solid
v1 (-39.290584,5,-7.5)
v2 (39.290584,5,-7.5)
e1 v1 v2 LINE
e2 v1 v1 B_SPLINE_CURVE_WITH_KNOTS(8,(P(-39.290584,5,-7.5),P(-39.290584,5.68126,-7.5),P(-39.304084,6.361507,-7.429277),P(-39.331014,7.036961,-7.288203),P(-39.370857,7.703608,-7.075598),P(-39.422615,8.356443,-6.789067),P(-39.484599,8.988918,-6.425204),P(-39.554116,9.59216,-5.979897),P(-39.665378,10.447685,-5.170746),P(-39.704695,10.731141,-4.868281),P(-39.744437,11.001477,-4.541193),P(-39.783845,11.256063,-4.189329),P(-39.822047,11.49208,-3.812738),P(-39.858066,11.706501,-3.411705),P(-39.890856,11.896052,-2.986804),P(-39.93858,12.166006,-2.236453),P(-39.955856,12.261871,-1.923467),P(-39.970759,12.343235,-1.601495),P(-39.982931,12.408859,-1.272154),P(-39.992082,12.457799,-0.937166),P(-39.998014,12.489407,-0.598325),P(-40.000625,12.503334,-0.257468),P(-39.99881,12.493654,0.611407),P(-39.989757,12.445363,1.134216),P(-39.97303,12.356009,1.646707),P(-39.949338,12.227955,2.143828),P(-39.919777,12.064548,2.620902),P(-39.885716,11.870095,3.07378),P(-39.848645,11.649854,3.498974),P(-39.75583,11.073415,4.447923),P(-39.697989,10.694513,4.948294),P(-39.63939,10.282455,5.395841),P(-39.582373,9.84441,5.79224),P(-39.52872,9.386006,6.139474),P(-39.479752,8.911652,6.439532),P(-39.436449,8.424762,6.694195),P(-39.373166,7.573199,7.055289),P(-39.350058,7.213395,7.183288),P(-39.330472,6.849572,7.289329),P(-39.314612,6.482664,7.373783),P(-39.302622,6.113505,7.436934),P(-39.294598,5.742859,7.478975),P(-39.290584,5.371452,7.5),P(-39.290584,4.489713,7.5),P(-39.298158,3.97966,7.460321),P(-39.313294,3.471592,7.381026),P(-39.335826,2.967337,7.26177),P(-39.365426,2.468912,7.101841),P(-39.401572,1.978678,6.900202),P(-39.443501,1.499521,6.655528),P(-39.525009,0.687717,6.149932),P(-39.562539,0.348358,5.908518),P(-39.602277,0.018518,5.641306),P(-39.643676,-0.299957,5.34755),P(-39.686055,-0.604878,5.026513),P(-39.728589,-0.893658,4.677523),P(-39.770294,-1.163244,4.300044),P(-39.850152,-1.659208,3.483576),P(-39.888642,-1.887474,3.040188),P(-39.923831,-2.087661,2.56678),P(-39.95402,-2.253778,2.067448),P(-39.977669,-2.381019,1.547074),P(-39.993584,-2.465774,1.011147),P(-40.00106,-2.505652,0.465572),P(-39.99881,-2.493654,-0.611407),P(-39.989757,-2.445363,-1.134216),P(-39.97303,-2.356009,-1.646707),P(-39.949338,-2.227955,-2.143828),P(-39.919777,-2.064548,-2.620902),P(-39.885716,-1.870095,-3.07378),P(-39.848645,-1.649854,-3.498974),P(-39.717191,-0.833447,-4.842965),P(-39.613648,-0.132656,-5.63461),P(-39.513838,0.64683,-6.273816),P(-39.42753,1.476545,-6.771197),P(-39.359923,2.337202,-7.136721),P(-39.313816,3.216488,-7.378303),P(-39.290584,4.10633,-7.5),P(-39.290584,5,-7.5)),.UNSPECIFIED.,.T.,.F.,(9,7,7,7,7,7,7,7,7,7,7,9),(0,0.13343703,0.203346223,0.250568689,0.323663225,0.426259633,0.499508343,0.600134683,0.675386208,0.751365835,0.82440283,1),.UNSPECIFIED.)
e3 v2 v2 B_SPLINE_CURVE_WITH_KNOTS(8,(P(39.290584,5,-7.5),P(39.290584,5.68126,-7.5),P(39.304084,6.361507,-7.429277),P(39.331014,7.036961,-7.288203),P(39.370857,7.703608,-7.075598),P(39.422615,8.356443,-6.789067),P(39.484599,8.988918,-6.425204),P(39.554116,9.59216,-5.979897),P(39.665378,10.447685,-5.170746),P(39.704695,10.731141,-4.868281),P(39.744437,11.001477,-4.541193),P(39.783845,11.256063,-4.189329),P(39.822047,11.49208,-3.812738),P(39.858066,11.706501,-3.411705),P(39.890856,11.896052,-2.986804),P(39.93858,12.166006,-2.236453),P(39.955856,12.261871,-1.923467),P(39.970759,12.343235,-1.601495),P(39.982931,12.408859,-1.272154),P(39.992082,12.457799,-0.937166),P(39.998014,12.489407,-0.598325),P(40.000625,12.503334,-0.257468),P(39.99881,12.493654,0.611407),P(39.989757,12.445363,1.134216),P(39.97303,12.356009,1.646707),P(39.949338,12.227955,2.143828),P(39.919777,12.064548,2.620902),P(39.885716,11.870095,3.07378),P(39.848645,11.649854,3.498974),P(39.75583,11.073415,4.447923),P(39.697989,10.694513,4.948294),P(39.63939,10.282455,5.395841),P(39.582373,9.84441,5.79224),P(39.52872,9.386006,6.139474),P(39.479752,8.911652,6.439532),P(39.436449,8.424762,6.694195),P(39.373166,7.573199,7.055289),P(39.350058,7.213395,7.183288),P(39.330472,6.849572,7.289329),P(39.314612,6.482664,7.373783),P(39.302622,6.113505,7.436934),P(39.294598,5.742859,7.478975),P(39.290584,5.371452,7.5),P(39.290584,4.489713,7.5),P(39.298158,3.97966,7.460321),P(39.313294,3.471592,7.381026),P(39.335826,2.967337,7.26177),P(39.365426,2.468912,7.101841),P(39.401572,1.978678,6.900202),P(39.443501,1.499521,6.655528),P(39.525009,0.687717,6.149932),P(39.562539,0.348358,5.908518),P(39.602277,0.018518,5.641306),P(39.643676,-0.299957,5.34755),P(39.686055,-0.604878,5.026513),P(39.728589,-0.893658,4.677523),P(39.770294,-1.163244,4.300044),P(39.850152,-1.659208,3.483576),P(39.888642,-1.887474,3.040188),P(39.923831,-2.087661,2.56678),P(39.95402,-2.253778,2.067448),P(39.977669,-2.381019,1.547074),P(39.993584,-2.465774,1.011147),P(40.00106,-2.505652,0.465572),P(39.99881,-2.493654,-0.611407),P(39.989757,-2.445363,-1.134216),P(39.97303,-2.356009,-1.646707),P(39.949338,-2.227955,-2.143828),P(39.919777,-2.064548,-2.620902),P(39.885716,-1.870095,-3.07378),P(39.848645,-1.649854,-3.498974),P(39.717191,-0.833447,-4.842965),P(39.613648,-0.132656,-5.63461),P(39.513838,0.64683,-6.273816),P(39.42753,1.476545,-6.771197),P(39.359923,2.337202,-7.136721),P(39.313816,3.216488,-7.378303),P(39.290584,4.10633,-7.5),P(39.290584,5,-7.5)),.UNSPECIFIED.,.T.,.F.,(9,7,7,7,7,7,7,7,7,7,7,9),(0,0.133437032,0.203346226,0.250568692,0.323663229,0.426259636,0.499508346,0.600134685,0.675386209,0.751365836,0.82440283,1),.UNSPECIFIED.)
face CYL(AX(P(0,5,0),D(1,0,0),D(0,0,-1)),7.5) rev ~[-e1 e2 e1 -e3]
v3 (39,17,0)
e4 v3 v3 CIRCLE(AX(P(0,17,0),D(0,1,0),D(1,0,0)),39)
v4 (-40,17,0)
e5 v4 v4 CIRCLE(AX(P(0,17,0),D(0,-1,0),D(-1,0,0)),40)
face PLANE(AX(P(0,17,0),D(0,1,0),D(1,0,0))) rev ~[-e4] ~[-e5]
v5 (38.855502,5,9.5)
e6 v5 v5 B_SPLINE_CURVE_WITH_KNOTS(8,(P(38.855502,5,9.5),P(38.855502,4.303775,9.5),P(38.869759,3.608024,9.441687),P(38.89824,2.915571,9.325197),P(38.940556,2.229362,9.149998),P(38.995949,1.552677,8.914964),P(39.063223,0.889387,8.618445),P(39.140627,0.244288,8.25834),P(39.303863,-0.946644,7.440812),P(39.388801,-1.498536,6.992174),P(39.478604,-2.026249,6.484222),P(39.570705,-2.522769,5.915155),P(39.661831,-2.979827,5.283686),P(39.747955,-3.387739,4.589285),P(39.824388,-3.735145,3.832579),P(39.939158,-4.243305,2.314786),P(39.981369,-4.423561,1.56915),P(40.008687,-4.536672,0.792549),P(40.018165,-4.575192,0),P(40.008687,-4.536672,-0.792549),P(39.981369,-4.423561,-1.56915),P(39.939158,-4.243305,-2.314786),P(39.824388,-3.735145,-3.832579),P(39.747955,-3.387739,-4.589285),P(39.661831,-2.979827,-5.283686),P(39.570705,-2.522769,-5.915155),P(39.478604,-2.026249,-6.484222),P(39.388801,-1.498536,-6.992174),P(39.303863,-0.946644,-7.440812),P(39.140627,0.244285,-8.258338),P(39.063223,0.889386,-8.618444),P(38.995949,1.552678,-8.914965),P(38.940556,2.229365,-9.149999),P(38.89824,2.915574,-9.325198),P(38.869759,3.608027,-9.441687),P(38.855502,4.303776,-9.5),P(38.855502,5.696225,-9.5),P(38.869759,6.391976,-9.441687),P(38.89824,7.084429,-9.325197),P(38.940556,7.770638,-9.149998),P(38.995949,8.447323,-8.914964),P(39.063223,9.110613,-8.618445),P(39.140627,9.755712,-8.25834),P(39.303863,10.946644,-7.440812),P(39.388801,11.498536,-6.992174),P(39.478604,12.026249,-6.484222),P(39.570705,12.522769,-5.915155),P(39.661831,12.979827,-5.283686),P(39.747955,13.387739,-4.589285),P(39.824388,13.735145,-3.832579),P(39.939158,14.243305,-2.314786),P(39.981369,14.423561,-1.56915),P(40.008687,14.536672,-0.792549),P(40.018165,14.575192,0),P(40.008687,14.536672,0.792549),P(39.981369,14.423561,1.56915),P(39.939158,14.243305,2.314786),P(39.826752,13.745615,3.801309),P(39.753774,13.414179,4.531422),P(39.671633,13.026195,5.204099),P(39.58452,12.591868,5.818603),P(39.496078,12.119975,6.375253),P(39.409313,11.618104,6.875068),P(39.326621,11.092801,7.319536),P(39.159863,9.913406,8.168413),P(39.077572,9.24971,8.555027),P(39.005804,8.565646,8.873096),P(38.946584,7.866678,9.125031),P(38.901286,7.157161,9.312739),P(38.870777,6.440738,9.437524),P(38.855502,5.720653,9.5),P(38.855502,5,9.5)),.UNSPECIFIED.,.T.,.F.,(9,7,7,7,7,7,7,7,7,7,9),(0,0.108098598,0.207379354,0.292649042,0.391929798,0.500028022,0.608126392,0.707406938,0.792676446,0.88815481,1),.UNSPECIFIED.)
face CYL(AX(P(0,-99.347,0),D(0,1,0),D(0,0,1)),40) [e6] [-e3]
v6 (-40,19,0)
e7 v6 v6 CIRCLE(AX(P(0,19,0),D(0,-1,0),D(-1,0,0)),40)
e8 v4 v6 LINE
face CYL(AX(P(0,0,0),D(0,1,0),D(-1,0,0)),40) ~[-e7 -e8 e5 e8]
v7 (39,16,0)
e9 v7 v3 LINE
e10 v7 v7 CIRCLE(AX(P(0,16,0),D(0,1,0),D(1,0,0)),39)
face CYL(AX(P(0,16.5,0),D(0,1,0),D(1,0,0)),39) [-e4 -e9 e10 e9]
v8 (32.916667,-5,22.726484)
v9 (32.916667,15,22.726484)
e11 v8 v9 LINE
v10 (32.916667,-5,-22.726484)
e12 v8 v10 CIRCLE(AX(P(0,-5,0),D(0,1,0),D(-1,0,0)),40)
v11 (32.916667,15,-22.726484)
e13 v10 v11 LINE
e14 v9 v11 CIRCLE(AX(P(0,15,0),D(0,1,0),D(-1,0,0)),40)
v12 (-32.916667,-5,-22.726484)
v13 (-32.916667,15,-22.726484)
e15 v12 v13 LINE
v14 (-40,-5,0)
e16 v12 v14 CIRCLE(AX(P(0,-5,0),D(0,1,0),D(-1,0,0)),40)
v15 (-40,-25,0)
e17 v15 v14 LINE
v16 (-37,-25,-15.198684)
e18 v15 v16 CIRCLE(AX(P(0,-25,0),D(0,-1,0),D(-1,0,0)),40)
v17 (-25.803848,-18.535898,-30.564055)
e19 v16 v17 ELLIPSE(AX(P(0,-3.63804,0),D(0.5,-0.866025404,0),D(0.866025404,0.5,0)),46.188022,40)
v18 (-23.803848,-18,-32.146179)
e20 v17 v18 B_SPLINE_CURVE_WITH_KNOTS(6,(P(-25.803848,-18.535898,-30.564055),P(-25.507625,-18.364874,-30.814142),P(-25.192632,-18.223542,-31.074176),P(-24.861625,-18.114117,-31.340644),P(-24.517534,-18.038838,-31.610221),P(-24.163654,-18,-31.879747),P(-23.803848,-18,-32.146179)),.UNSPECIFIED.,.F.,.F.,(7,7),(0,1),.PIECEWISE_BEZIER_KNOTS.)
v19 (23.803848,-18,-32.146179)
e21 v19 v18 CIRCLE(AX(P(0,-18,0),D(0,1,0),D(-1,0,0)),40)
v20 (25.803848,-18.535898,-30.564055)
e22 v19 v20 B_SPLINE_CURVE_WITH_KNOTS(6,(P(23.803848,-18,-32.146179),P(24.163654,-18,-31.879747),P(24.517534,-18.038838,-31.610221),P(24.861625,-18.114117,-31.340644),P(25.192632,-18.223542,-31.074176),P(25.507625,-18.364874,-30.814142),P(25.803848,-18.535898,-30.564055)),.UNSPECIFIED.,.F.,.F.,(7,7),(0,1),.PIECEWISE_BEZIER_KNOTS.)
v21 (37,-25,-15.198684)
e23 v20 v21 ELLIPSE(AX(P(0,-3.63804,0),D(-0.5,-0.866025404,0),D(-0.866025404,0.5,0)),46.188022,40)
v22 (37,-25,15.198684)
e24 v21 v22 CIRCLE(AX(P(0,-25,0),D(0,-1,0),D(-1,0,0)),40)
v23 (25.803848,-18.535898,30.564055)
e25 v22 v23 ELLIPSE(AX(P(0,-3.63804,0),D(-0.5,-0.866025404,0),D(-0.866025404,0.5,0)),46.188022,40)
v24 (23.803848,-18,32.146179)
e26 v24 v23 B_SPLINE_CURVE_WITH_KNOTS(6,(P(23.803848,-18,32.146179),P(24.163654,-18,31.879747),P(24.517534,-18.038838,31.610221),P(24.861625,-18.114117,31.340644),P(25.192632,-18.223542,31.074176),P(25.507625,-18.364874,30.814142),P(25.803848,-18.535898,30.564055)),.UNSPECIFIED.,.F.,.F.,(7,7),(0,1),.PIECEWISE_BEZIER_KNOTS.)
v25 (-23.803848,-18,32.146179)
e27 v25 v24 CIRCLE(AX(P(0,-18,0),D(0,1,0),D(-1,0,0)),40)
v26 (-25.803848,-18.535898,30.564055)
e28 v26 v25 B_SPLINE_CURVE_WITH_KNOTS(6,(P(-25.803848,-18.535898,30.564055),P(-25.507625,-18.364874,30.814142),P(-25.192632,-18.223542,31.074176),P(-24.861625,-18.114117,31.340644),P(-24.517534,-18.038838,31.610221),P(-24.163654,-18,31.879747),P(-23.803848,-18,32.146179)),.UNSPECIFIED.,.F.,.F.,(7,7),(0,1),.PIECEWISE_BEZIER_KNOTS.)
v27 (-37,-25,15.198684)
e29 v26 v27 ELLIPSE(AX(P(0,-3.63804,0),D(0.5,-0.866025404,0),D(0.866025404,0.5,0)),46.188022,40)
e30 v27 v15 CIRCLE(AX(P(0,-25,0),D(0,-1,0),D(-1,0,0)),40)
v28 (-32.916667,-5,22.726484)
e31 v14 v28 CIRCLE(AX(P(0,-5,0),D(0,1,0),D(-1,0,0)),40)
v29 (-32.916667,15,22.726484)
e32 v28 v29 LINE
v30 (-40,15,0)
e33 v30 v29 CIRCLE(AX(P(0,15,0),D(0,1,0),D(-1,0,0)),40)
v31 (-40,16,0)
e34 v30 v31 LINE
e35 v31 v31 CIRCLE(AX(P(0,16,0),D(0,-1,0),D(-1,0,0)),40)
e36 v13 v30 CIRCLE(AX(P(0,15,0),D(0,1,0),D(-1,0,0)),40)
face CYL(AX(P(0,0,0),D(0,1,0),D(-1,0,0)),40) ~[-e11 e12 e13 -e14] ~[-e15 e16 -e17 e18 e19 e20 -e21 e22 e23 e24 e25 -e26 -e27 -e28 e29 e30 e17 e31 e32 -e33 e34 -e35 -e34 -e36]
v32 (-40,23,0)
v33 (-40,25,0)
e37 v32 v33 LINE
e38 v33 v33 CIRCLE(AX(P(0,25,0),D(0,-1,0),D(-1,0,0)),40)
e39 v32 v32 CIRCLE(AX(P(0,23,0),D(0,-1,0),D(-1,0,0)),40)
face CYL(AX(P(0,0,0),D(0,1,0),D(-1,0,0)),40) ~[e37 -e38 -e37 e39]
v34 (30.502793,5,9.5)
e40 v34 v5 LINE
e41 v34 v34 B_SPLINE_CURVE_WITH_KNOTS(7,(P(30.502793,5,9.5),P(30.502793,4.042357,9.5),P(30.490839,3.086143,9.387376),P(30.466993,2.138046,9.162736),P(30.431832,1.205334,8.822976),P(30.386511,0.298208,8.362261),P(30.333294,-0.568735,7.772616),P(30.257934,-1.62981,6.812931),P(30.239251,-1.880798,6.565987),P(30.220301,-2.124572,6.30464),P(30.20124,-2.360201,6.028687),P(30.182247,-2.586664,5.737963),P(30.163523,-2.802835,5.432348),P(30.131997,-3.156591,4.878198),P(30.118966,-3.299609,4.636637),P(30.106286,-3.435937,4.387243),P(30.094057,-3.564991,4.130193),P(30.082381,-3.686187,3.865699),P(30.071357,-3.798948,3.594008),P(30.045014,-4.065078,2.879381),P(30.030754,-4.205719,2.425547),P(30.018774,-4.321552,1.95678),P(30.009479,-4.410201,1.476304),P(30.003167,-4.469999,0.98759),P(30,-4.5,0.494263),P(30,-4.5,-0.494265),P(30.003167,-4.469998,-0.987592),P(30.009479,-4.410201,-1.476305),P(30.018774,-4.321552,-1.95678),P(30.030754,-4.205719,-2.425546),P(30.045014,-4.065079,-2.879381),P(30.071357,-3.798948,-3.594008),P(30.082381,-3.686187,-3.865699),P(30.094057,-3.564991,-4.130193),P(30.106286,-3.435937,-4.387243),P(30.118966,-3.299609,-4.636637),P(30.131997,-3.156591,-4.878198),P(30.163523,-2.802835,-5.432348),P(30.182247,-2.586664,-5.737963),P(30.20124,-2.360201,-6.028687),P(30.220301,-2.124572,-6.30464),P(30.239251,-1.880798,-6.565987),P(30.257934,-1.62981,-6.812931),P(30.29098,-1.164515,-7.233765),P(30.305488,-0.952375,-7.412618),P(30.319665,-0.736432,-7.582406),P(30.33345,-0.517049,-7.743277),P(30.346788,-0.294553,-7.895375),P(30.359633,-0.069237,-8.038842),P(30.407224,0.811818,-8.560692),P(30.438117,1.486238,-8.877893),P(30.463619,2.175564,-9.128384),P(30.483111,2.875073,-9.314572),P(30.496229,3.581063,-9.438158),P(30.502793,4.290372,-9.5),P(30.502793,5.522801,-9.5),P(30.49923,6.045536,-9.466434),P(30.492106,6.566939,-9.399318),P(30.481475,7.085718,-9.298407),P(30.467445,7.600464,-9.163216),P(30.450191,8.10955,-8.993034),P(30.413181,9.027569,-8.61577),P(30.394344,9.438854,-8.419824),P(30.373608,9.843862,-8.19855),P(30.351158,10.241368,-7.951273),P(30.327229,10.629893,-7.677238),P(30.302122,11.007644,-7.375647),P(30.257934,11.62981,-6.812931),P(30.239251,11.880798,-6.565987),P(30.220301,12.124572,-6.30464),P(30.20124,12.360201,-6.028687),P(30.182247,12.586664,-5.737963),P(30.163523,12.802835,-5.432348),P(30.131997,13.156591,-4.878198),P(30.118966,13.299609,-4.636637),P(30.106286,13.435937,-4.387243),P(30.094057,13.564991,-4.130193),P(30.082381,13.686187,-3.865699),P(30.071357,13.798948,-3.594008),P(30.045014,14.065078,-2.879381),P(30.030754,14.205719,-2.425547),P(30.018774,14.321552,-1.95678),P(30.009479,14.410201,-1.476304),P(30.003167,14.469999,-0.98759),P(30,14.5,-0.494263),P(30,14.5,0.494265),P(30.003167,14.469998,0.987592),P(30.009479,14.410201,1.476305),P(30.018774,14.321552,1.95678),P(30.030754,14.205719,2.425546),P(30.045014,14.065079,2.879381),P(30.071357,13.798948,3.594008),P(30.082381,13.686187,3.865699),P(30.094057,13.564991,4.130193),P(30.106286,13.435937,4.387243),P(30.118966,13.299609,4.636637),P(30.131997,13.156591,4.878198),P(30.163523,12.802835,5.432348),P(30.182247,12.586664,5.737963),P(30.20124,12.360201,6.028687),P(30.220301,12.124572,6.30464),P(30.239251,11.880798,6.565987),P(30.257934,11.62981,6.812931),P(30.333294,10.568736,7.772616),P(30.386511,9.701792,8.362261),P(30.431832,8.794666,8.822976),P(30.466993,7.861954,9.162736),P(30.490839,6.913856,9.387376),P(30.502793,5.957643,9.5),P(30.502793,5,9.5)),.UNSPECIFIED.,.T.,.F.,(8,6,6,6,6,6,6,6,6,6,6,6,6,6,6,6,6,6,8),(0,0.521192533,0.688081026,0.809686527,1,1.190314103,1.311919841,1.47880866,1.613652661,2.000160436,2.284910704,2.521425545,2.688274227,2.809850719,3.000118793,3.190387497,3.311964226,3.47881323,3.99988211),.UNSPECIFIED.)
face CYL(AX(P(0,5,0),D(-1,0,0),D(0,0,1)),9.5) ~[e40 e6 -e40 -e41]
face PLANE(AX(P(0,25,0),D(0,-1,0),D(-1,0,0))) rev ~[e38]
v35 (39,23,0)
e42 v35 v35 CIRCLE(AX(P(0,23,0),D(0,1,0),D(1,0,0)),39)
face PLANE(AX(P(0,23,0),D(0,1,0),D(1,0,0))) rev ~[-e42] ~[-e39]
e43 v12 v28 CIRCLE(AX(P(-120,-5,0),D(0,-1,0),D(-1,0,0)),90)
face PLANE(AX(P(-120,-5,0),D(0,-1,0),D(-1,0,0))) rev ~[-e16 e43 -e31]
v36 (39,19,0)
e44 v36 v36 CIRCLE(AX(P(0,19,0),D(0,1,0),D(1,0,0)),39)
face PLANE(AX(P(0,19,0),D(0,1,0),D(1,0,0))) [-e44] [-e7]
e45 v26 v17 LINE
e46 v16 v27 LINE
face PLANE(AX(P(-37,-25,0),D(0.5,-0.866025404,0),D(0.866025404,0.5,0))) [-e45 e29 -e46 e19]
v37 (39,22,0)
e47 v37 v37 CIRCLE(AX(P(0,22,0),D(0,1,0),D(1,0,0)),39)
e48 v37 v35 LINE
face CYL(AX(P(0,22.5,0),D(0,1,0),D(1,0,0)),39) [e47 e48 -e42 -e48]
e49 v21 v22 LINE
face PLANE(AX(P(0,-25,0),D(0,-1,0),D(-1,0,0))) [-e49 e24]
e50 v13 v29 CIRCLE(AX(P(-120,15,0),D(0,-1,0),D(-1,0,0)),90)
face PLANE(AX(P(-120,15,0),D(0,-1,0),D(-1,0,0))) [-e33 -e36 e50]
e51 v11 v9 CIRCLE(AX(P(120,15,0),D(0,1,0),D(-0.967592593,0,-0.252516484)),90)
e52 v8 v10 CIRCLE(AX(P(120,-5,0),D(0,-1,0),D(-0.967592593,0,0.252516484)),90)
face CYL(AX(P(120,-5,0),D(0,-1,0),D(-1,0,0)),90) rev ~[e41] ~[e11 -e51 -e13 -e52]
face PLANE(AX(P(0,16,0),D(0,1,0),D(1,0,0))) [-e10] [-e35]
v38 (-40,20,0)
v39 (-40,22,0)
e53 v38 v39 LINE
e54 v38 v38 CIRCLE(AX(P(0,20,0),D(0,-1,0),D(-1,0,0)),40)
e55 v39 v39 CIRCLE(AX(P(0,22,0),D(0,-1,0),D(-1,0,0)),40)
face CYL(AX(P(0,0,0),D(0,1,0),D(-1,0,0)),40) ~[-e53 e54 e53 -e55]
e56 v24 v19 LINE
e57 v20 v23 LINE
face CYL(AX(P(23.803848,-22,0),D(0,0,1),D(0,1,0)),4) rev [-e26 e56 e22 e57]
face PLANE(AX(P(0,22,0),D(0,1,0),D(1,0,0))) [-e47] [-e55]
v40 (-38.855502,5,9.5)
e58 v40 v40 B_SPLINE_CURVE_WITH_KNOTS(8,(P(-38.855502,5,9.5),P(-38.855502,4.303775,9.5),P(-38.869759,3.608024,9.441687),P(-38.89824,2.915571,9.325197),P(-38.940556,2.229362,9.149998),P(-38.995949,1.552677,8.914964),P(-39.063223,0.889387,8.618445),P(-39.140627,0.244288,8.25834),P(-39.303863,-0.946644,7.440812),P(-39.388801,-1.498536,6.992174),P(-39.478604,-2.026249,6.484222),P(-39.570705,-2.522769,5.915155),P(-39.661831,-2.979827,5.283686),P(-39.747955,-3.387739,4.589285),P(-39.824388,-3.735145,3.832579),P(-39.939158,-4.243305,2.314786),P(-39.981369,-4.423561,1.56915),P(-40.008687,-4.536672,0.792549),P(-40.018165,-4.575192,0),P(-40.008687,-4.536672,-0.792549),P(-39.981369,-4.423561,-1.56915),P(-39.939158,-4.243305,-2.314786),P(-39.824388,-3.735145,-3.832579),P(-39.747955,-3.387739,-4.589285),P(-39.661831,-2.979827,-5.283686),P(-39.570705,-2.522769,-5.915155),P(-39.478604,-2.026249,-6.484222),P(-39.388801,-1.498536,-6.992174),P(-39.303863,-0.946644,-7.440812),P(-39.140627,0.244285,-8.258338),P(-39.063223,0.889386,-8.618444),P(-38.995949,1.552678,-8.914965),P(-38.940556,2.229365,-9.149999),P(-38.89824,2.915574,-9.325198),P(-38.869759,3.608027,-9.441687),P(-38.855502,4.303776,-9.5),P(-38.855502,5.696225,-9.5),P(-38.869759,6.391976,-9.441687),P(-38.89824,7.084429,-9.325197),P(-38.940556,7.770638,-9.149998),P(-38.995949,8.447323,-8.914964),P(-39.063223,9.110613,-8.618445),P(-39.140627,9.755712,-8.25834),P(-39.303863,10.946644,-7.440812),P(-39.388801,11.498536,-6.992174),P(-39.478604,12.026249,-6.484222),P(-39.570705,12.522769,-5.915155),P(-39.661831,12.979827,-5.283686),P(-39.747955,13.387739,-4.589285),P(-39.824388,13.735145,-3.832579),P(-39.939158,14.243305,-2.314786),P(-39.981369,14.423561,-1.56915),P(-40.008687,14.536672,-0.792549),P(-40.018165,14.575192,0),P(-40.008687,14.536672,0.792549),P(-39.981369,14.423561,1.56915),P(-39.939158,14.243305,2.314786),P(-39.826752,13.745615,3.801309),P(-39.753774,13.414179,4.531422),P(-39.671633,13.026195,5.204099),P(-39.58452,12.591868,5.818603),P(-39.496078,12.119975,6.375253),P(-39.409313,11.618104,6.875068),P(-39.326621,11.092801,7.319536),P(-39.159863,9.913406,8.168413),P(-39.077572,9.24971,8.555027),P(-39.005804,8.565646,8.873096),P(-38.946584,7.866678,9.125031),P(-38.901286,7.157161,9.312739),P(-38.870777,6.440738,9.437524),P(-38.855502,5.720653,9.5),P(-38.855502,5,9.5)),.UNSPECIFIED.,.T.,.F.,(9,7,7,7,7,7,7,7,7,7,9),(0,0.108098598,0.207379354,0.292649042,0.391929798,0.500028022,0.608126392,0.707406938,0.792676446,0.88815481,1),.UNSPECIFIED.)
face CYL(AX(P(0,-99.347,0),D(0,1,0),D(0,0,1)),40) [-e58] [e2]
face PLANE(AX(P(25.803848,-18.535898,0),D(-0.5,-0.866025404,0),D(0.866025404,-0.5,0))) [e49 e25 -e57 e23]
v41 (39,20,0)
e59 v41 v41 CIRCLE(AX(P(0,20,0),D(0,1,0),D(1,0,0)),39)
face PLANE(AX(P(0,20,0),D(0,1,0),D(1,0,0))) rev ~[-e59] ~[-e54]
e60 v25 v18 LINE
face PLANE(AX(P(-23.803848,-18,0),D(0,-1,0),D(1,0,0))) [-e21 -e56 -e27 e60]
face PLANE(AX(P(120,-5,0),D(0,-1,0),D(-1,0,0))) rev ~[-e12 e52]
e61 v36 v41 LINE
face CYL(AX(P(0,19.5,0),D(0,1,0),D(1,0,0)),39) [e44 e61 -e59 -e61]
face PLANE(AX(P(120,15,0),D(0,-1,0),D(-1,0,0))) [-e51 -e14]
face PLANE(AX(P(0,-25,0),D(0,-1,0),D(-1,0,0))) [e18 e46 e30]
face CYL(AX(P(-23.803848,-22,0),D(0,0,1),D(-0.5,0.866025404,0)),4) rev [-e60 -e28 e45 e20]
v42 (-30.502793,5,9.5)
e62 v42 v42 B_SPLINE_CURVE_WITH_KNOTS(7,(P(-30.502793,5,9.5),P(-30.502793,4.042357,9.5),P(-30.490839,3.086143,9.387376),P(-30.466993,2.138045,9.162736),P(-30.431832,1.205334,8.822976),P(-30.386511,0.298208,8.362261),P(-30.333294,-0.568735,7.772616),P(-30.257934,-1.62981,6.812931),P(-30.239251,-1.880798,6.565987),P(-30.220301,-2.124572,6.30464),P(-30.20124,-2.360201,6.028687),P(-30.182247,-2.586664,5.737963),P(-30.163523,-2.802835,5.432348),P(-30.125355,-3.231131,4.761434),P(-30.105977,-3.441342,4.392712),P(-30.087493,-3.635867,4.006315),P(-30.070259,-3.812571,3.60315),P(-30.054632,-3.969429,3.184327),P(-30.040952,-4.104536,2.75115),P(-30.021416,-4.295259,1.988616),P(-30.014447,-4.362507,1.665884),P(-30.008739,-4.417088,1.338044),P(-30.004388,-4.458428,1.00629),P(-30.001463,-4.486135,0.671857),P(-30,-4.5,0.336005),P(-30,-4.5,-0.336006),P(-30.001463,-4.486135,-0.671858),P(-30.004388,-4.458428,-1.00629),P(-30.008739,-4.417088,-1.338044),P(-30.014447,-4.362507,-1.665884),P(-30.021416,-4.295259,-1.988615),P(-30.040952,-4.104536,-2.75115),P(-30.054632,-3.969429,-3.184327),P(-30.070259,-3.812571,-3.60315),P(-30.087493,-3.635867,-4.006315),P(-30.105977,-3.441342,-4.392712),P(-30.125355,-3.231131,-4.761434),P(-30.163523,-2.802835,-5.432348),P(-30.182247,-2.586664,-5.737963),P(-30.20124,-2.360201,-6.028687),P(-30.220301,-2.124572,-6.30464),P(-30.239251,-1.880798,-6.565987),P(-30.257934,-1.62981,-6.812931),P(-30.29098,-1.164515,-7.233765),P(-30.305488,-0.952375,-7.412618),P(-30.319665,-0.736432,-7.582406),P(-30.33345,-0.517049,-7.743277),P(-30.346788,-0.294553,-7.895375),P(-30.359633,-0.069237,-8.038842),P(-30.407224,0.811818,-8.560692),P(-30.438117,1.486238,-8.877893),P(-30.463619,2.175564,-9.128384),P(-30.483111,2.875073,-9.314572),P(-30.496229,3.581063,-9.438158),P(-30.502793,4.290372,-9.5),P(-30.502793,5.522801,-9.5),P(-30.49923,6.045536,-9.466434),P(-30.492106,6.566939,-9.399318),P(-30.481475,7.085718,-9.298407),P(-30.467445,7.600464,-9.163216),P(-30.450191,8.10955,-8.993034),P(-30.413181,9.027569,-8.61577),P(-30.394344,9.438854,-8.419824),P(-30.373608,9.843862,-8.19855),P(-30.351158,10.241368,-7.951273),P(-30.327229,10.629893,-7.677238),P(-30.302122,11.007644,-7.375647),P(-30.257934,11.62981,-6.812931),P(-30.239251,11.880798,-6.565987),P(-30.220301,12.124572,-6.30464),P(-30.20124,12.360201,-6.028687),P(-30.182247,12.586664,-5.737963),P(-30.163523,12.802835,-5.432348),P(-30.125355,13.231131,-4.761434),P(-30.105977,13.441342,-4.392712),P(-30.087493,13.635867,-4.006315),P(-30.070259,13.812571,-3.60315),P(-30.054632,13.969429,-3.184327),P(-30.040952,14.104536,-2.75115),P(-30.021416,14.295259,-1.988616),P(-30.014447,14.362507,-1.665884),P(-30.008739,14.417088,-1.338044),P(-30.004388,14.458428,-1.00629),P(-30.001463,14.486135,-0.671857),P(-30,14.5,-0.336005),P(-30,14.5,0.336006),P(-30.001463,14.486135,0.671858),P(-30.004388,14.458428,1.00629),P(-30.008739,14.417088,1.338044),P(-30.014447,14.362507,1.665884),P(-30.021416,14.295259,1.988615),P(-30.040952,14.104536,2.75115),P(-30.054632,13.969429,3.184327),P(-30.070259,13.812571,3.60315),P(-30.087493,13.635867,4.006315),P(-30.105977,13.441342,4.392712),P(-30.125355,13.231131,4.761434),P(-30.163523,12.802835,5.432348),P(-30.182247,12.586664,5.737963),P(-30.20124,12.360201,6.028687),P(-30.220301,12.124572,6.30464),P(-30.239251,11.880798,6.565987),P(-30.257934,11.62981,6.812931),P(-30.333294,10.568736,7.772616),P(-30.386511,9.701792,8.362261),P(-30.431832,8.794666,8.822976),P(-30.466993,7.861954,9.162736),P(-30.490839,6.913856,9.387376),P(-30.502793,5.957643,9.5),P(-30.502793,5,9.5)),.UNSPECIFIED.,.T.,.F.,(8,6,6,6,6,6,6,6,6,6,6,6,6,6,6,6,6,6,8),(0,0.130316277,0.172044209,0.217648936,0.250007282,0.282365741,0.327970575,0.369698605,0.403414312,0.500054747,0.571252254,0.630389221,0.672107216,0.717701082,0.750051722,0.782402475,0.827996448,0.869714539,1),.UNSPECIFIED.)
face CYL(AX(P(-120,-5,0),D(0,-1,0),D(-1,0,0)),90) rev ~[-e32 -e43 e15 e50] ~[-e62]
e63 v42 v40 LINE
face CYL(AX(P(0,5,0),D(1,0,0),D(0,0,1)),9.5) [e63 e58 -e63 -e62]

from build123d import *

# Parameters (mm, degrees)
SKETCH1_W                            = 40
SKETCH1_H                            = 50
CUT_EXTRUDE1_DEPTH                   = 55
SKETCH3_R                            = 90
CUT_EXTRUDE4_DEPTH                   = 20
BOSS_EXTRUDE1_REACH                  = 63.847
BOSS_EXTRUDE1_END_RADIUS             = 40
SKETCH4_R                            = 9.5
BOSS_EXTRUDE1_DIRECTION_2_REACH      = 63.847
BOSS_EXTRUDE1_DIRECTION_2_END_RADIUS = 40
SKETCH5_R                            = 7.5
CUT_EXTRUDE5_DEPTH                   = 55
SKETCH6_W                            = 1
SKETCH6_H                            = 1


with BuildPart() as part:
    # Sketch1 → Revolve1 (revolve)
    with BuildSketch(Plane.XY):
        with Locations((-20, 0)):
            Rectangle(SKETCH1_W, SKETCH1_H)
    revolve(axis=Axis((0, 25, 0), (0, -1, 0)))

    # Sketch2 → Cut-Extrude1 (cut, symmetric)
    with BuildSketch(Plane.XY):
        with BuildLine():
            Line((-37, -25), (-25.803847577, -18.535898385))
            ThreePointArc((-25.803847577, -18.535898385), (-24.839123758, -18.136296695), (-23.803847577, -18))
            Line((-23.803847577, -18), (23.803847577, -18))
            ThreePointArc((23.803847577, -18), (24.839123758, -18.136296695), (25.803847577, -18.535898385))
            Line((25.803847577, -18.535898385), (37, -25))
            Line((37, -25), (-37, -25))
        make_face()
    extrude(amount=CUT_EXTRUDE1_DEPTH, both=True, mode=Mode.SUBTRACT)

    # Sketch3 → Cut-Extrude4 (cut)
    with BuildSketch(Plane(origin=(0, -5, 0), x_dir=(-1, 0, 0), z_dir=(0, -1, 0))):
        with Locations((-120, 0)):
            Circle(SKETCH3_R)
        with Locations((120, 0)):
            Circle(SKETCH3_R)
    extrude(amount=-CUT_EXTRUDE4_DEPTH, mode=Mode.SUBTRACT)

    # Boss-Extrude1: up to this cylinder (the profile starts inside it)
    boss_extrude1_end = Plane(origin=(0, 5, 0), z_dir=(0, 1, 0)) * Cylinder(BOSS_EXTRUDE1_END_RADIUS, 208.694, mode=Mode.PRIVATE)
    # Sketch4 → Boss-Extrude1 (add, up to the surface)
    with BuildSketch(Plane(origin=(0, 0, 0), x_dir=(0, 0, -1), z_dir=(1, 0, 0)), mode=Mode.PRIVATE) as boss_extrude1_sk1:
        with Locations(Location((0, 5, 0), (0, 0, 180))):
            Circle(SKETCH4_R)
    boss_extrude1_tool1 = extrude(boss_extrude1_sk1.sketch, amount=BOSS_EXTRUDE1_REACH, mode=Mode.PRIVATE) & boss_extrude1_end
    add(boss_extrude1_tool1.solids().sort_by_distance((0, 5, 0))[0])

    # Boss-Extrude1 direction 2: up to this cylinder (the profile starts inside it)
    boss_extrude1_direction_2_end = Plane(origin=(0, 5, 0), z_dir=(0, 1, 0)) * Cylinder(BOSS_EXTRUDE1_DIRECTION_2_END_RADIUS, 208.694, mode=Mode.PRIVATE)
    # Sketch4 → Boss-Extrude1 direction 2 (add, up to the surface)
    with BuildSketch(Plane(origin=(0, 0, 0), x_dir=(0, 0, -1), z_dir=(1, 0, 0)), mode=Mode.PRIVATE) as boss_extrude1_direction_2_sk1:
        with Locations(Location((0, 5, 0), (0, 0, 180))):
            Circle(SKETCH4_R)
    boss_extrude1_direction_2_tool1 = extrude(boss_extrude1_direction_2_sk1.sketch, amount=-BOSS_EXTRUDE1_DIRECTION_2_REACH, mode=Mode.PRIVATE) & boss_extrude1_direction_2_end
    add(boss_extrude1_direction_2_tool1.solids().sort_by_distance((0, 5, 0))[0])

    # Sketch5 → Cut-Extrude5 (cut, symmetric)
    with BuildSketch(Plane(origin=(0, 0, 0), x_dir=(0, 0, -1), z_dir=(1, 0, 0))):
        with Locations((0, 5)):
            Circle(SKETCH5_R)
    extrude(amount=CUT_EXTRUDE5_DEPTH, both=True, mode=Mode.SUBTRACT)

    # Sketch6 → Cut-Revolve1 (revolve, cut)
    with BuildSketch(Plane.XY, mode=Mode.PRIVATE) as cut_revolve1_sk:
        with Locations((-39.5, 22.5)):
            Rectangle(SKETCH6_W, SKETCH6_H)
        with Locations((-39.5, 19.5)):
            Rectangle(SKETCH6_W, SKETCH6_H)
        with Locations((-39.5, 16.5)):
            Rectangle(SKETCH6_W, SKETCH6_H)
    revolve(cut_revolve1_sk.sketch.rotate(Axis((0, 0, 0), (0, 1, 0)), 180), axis=Axis((0, 0, 0), (0, 1, 0)), mode=Mode.SUBTRACT)


solid = part.part
